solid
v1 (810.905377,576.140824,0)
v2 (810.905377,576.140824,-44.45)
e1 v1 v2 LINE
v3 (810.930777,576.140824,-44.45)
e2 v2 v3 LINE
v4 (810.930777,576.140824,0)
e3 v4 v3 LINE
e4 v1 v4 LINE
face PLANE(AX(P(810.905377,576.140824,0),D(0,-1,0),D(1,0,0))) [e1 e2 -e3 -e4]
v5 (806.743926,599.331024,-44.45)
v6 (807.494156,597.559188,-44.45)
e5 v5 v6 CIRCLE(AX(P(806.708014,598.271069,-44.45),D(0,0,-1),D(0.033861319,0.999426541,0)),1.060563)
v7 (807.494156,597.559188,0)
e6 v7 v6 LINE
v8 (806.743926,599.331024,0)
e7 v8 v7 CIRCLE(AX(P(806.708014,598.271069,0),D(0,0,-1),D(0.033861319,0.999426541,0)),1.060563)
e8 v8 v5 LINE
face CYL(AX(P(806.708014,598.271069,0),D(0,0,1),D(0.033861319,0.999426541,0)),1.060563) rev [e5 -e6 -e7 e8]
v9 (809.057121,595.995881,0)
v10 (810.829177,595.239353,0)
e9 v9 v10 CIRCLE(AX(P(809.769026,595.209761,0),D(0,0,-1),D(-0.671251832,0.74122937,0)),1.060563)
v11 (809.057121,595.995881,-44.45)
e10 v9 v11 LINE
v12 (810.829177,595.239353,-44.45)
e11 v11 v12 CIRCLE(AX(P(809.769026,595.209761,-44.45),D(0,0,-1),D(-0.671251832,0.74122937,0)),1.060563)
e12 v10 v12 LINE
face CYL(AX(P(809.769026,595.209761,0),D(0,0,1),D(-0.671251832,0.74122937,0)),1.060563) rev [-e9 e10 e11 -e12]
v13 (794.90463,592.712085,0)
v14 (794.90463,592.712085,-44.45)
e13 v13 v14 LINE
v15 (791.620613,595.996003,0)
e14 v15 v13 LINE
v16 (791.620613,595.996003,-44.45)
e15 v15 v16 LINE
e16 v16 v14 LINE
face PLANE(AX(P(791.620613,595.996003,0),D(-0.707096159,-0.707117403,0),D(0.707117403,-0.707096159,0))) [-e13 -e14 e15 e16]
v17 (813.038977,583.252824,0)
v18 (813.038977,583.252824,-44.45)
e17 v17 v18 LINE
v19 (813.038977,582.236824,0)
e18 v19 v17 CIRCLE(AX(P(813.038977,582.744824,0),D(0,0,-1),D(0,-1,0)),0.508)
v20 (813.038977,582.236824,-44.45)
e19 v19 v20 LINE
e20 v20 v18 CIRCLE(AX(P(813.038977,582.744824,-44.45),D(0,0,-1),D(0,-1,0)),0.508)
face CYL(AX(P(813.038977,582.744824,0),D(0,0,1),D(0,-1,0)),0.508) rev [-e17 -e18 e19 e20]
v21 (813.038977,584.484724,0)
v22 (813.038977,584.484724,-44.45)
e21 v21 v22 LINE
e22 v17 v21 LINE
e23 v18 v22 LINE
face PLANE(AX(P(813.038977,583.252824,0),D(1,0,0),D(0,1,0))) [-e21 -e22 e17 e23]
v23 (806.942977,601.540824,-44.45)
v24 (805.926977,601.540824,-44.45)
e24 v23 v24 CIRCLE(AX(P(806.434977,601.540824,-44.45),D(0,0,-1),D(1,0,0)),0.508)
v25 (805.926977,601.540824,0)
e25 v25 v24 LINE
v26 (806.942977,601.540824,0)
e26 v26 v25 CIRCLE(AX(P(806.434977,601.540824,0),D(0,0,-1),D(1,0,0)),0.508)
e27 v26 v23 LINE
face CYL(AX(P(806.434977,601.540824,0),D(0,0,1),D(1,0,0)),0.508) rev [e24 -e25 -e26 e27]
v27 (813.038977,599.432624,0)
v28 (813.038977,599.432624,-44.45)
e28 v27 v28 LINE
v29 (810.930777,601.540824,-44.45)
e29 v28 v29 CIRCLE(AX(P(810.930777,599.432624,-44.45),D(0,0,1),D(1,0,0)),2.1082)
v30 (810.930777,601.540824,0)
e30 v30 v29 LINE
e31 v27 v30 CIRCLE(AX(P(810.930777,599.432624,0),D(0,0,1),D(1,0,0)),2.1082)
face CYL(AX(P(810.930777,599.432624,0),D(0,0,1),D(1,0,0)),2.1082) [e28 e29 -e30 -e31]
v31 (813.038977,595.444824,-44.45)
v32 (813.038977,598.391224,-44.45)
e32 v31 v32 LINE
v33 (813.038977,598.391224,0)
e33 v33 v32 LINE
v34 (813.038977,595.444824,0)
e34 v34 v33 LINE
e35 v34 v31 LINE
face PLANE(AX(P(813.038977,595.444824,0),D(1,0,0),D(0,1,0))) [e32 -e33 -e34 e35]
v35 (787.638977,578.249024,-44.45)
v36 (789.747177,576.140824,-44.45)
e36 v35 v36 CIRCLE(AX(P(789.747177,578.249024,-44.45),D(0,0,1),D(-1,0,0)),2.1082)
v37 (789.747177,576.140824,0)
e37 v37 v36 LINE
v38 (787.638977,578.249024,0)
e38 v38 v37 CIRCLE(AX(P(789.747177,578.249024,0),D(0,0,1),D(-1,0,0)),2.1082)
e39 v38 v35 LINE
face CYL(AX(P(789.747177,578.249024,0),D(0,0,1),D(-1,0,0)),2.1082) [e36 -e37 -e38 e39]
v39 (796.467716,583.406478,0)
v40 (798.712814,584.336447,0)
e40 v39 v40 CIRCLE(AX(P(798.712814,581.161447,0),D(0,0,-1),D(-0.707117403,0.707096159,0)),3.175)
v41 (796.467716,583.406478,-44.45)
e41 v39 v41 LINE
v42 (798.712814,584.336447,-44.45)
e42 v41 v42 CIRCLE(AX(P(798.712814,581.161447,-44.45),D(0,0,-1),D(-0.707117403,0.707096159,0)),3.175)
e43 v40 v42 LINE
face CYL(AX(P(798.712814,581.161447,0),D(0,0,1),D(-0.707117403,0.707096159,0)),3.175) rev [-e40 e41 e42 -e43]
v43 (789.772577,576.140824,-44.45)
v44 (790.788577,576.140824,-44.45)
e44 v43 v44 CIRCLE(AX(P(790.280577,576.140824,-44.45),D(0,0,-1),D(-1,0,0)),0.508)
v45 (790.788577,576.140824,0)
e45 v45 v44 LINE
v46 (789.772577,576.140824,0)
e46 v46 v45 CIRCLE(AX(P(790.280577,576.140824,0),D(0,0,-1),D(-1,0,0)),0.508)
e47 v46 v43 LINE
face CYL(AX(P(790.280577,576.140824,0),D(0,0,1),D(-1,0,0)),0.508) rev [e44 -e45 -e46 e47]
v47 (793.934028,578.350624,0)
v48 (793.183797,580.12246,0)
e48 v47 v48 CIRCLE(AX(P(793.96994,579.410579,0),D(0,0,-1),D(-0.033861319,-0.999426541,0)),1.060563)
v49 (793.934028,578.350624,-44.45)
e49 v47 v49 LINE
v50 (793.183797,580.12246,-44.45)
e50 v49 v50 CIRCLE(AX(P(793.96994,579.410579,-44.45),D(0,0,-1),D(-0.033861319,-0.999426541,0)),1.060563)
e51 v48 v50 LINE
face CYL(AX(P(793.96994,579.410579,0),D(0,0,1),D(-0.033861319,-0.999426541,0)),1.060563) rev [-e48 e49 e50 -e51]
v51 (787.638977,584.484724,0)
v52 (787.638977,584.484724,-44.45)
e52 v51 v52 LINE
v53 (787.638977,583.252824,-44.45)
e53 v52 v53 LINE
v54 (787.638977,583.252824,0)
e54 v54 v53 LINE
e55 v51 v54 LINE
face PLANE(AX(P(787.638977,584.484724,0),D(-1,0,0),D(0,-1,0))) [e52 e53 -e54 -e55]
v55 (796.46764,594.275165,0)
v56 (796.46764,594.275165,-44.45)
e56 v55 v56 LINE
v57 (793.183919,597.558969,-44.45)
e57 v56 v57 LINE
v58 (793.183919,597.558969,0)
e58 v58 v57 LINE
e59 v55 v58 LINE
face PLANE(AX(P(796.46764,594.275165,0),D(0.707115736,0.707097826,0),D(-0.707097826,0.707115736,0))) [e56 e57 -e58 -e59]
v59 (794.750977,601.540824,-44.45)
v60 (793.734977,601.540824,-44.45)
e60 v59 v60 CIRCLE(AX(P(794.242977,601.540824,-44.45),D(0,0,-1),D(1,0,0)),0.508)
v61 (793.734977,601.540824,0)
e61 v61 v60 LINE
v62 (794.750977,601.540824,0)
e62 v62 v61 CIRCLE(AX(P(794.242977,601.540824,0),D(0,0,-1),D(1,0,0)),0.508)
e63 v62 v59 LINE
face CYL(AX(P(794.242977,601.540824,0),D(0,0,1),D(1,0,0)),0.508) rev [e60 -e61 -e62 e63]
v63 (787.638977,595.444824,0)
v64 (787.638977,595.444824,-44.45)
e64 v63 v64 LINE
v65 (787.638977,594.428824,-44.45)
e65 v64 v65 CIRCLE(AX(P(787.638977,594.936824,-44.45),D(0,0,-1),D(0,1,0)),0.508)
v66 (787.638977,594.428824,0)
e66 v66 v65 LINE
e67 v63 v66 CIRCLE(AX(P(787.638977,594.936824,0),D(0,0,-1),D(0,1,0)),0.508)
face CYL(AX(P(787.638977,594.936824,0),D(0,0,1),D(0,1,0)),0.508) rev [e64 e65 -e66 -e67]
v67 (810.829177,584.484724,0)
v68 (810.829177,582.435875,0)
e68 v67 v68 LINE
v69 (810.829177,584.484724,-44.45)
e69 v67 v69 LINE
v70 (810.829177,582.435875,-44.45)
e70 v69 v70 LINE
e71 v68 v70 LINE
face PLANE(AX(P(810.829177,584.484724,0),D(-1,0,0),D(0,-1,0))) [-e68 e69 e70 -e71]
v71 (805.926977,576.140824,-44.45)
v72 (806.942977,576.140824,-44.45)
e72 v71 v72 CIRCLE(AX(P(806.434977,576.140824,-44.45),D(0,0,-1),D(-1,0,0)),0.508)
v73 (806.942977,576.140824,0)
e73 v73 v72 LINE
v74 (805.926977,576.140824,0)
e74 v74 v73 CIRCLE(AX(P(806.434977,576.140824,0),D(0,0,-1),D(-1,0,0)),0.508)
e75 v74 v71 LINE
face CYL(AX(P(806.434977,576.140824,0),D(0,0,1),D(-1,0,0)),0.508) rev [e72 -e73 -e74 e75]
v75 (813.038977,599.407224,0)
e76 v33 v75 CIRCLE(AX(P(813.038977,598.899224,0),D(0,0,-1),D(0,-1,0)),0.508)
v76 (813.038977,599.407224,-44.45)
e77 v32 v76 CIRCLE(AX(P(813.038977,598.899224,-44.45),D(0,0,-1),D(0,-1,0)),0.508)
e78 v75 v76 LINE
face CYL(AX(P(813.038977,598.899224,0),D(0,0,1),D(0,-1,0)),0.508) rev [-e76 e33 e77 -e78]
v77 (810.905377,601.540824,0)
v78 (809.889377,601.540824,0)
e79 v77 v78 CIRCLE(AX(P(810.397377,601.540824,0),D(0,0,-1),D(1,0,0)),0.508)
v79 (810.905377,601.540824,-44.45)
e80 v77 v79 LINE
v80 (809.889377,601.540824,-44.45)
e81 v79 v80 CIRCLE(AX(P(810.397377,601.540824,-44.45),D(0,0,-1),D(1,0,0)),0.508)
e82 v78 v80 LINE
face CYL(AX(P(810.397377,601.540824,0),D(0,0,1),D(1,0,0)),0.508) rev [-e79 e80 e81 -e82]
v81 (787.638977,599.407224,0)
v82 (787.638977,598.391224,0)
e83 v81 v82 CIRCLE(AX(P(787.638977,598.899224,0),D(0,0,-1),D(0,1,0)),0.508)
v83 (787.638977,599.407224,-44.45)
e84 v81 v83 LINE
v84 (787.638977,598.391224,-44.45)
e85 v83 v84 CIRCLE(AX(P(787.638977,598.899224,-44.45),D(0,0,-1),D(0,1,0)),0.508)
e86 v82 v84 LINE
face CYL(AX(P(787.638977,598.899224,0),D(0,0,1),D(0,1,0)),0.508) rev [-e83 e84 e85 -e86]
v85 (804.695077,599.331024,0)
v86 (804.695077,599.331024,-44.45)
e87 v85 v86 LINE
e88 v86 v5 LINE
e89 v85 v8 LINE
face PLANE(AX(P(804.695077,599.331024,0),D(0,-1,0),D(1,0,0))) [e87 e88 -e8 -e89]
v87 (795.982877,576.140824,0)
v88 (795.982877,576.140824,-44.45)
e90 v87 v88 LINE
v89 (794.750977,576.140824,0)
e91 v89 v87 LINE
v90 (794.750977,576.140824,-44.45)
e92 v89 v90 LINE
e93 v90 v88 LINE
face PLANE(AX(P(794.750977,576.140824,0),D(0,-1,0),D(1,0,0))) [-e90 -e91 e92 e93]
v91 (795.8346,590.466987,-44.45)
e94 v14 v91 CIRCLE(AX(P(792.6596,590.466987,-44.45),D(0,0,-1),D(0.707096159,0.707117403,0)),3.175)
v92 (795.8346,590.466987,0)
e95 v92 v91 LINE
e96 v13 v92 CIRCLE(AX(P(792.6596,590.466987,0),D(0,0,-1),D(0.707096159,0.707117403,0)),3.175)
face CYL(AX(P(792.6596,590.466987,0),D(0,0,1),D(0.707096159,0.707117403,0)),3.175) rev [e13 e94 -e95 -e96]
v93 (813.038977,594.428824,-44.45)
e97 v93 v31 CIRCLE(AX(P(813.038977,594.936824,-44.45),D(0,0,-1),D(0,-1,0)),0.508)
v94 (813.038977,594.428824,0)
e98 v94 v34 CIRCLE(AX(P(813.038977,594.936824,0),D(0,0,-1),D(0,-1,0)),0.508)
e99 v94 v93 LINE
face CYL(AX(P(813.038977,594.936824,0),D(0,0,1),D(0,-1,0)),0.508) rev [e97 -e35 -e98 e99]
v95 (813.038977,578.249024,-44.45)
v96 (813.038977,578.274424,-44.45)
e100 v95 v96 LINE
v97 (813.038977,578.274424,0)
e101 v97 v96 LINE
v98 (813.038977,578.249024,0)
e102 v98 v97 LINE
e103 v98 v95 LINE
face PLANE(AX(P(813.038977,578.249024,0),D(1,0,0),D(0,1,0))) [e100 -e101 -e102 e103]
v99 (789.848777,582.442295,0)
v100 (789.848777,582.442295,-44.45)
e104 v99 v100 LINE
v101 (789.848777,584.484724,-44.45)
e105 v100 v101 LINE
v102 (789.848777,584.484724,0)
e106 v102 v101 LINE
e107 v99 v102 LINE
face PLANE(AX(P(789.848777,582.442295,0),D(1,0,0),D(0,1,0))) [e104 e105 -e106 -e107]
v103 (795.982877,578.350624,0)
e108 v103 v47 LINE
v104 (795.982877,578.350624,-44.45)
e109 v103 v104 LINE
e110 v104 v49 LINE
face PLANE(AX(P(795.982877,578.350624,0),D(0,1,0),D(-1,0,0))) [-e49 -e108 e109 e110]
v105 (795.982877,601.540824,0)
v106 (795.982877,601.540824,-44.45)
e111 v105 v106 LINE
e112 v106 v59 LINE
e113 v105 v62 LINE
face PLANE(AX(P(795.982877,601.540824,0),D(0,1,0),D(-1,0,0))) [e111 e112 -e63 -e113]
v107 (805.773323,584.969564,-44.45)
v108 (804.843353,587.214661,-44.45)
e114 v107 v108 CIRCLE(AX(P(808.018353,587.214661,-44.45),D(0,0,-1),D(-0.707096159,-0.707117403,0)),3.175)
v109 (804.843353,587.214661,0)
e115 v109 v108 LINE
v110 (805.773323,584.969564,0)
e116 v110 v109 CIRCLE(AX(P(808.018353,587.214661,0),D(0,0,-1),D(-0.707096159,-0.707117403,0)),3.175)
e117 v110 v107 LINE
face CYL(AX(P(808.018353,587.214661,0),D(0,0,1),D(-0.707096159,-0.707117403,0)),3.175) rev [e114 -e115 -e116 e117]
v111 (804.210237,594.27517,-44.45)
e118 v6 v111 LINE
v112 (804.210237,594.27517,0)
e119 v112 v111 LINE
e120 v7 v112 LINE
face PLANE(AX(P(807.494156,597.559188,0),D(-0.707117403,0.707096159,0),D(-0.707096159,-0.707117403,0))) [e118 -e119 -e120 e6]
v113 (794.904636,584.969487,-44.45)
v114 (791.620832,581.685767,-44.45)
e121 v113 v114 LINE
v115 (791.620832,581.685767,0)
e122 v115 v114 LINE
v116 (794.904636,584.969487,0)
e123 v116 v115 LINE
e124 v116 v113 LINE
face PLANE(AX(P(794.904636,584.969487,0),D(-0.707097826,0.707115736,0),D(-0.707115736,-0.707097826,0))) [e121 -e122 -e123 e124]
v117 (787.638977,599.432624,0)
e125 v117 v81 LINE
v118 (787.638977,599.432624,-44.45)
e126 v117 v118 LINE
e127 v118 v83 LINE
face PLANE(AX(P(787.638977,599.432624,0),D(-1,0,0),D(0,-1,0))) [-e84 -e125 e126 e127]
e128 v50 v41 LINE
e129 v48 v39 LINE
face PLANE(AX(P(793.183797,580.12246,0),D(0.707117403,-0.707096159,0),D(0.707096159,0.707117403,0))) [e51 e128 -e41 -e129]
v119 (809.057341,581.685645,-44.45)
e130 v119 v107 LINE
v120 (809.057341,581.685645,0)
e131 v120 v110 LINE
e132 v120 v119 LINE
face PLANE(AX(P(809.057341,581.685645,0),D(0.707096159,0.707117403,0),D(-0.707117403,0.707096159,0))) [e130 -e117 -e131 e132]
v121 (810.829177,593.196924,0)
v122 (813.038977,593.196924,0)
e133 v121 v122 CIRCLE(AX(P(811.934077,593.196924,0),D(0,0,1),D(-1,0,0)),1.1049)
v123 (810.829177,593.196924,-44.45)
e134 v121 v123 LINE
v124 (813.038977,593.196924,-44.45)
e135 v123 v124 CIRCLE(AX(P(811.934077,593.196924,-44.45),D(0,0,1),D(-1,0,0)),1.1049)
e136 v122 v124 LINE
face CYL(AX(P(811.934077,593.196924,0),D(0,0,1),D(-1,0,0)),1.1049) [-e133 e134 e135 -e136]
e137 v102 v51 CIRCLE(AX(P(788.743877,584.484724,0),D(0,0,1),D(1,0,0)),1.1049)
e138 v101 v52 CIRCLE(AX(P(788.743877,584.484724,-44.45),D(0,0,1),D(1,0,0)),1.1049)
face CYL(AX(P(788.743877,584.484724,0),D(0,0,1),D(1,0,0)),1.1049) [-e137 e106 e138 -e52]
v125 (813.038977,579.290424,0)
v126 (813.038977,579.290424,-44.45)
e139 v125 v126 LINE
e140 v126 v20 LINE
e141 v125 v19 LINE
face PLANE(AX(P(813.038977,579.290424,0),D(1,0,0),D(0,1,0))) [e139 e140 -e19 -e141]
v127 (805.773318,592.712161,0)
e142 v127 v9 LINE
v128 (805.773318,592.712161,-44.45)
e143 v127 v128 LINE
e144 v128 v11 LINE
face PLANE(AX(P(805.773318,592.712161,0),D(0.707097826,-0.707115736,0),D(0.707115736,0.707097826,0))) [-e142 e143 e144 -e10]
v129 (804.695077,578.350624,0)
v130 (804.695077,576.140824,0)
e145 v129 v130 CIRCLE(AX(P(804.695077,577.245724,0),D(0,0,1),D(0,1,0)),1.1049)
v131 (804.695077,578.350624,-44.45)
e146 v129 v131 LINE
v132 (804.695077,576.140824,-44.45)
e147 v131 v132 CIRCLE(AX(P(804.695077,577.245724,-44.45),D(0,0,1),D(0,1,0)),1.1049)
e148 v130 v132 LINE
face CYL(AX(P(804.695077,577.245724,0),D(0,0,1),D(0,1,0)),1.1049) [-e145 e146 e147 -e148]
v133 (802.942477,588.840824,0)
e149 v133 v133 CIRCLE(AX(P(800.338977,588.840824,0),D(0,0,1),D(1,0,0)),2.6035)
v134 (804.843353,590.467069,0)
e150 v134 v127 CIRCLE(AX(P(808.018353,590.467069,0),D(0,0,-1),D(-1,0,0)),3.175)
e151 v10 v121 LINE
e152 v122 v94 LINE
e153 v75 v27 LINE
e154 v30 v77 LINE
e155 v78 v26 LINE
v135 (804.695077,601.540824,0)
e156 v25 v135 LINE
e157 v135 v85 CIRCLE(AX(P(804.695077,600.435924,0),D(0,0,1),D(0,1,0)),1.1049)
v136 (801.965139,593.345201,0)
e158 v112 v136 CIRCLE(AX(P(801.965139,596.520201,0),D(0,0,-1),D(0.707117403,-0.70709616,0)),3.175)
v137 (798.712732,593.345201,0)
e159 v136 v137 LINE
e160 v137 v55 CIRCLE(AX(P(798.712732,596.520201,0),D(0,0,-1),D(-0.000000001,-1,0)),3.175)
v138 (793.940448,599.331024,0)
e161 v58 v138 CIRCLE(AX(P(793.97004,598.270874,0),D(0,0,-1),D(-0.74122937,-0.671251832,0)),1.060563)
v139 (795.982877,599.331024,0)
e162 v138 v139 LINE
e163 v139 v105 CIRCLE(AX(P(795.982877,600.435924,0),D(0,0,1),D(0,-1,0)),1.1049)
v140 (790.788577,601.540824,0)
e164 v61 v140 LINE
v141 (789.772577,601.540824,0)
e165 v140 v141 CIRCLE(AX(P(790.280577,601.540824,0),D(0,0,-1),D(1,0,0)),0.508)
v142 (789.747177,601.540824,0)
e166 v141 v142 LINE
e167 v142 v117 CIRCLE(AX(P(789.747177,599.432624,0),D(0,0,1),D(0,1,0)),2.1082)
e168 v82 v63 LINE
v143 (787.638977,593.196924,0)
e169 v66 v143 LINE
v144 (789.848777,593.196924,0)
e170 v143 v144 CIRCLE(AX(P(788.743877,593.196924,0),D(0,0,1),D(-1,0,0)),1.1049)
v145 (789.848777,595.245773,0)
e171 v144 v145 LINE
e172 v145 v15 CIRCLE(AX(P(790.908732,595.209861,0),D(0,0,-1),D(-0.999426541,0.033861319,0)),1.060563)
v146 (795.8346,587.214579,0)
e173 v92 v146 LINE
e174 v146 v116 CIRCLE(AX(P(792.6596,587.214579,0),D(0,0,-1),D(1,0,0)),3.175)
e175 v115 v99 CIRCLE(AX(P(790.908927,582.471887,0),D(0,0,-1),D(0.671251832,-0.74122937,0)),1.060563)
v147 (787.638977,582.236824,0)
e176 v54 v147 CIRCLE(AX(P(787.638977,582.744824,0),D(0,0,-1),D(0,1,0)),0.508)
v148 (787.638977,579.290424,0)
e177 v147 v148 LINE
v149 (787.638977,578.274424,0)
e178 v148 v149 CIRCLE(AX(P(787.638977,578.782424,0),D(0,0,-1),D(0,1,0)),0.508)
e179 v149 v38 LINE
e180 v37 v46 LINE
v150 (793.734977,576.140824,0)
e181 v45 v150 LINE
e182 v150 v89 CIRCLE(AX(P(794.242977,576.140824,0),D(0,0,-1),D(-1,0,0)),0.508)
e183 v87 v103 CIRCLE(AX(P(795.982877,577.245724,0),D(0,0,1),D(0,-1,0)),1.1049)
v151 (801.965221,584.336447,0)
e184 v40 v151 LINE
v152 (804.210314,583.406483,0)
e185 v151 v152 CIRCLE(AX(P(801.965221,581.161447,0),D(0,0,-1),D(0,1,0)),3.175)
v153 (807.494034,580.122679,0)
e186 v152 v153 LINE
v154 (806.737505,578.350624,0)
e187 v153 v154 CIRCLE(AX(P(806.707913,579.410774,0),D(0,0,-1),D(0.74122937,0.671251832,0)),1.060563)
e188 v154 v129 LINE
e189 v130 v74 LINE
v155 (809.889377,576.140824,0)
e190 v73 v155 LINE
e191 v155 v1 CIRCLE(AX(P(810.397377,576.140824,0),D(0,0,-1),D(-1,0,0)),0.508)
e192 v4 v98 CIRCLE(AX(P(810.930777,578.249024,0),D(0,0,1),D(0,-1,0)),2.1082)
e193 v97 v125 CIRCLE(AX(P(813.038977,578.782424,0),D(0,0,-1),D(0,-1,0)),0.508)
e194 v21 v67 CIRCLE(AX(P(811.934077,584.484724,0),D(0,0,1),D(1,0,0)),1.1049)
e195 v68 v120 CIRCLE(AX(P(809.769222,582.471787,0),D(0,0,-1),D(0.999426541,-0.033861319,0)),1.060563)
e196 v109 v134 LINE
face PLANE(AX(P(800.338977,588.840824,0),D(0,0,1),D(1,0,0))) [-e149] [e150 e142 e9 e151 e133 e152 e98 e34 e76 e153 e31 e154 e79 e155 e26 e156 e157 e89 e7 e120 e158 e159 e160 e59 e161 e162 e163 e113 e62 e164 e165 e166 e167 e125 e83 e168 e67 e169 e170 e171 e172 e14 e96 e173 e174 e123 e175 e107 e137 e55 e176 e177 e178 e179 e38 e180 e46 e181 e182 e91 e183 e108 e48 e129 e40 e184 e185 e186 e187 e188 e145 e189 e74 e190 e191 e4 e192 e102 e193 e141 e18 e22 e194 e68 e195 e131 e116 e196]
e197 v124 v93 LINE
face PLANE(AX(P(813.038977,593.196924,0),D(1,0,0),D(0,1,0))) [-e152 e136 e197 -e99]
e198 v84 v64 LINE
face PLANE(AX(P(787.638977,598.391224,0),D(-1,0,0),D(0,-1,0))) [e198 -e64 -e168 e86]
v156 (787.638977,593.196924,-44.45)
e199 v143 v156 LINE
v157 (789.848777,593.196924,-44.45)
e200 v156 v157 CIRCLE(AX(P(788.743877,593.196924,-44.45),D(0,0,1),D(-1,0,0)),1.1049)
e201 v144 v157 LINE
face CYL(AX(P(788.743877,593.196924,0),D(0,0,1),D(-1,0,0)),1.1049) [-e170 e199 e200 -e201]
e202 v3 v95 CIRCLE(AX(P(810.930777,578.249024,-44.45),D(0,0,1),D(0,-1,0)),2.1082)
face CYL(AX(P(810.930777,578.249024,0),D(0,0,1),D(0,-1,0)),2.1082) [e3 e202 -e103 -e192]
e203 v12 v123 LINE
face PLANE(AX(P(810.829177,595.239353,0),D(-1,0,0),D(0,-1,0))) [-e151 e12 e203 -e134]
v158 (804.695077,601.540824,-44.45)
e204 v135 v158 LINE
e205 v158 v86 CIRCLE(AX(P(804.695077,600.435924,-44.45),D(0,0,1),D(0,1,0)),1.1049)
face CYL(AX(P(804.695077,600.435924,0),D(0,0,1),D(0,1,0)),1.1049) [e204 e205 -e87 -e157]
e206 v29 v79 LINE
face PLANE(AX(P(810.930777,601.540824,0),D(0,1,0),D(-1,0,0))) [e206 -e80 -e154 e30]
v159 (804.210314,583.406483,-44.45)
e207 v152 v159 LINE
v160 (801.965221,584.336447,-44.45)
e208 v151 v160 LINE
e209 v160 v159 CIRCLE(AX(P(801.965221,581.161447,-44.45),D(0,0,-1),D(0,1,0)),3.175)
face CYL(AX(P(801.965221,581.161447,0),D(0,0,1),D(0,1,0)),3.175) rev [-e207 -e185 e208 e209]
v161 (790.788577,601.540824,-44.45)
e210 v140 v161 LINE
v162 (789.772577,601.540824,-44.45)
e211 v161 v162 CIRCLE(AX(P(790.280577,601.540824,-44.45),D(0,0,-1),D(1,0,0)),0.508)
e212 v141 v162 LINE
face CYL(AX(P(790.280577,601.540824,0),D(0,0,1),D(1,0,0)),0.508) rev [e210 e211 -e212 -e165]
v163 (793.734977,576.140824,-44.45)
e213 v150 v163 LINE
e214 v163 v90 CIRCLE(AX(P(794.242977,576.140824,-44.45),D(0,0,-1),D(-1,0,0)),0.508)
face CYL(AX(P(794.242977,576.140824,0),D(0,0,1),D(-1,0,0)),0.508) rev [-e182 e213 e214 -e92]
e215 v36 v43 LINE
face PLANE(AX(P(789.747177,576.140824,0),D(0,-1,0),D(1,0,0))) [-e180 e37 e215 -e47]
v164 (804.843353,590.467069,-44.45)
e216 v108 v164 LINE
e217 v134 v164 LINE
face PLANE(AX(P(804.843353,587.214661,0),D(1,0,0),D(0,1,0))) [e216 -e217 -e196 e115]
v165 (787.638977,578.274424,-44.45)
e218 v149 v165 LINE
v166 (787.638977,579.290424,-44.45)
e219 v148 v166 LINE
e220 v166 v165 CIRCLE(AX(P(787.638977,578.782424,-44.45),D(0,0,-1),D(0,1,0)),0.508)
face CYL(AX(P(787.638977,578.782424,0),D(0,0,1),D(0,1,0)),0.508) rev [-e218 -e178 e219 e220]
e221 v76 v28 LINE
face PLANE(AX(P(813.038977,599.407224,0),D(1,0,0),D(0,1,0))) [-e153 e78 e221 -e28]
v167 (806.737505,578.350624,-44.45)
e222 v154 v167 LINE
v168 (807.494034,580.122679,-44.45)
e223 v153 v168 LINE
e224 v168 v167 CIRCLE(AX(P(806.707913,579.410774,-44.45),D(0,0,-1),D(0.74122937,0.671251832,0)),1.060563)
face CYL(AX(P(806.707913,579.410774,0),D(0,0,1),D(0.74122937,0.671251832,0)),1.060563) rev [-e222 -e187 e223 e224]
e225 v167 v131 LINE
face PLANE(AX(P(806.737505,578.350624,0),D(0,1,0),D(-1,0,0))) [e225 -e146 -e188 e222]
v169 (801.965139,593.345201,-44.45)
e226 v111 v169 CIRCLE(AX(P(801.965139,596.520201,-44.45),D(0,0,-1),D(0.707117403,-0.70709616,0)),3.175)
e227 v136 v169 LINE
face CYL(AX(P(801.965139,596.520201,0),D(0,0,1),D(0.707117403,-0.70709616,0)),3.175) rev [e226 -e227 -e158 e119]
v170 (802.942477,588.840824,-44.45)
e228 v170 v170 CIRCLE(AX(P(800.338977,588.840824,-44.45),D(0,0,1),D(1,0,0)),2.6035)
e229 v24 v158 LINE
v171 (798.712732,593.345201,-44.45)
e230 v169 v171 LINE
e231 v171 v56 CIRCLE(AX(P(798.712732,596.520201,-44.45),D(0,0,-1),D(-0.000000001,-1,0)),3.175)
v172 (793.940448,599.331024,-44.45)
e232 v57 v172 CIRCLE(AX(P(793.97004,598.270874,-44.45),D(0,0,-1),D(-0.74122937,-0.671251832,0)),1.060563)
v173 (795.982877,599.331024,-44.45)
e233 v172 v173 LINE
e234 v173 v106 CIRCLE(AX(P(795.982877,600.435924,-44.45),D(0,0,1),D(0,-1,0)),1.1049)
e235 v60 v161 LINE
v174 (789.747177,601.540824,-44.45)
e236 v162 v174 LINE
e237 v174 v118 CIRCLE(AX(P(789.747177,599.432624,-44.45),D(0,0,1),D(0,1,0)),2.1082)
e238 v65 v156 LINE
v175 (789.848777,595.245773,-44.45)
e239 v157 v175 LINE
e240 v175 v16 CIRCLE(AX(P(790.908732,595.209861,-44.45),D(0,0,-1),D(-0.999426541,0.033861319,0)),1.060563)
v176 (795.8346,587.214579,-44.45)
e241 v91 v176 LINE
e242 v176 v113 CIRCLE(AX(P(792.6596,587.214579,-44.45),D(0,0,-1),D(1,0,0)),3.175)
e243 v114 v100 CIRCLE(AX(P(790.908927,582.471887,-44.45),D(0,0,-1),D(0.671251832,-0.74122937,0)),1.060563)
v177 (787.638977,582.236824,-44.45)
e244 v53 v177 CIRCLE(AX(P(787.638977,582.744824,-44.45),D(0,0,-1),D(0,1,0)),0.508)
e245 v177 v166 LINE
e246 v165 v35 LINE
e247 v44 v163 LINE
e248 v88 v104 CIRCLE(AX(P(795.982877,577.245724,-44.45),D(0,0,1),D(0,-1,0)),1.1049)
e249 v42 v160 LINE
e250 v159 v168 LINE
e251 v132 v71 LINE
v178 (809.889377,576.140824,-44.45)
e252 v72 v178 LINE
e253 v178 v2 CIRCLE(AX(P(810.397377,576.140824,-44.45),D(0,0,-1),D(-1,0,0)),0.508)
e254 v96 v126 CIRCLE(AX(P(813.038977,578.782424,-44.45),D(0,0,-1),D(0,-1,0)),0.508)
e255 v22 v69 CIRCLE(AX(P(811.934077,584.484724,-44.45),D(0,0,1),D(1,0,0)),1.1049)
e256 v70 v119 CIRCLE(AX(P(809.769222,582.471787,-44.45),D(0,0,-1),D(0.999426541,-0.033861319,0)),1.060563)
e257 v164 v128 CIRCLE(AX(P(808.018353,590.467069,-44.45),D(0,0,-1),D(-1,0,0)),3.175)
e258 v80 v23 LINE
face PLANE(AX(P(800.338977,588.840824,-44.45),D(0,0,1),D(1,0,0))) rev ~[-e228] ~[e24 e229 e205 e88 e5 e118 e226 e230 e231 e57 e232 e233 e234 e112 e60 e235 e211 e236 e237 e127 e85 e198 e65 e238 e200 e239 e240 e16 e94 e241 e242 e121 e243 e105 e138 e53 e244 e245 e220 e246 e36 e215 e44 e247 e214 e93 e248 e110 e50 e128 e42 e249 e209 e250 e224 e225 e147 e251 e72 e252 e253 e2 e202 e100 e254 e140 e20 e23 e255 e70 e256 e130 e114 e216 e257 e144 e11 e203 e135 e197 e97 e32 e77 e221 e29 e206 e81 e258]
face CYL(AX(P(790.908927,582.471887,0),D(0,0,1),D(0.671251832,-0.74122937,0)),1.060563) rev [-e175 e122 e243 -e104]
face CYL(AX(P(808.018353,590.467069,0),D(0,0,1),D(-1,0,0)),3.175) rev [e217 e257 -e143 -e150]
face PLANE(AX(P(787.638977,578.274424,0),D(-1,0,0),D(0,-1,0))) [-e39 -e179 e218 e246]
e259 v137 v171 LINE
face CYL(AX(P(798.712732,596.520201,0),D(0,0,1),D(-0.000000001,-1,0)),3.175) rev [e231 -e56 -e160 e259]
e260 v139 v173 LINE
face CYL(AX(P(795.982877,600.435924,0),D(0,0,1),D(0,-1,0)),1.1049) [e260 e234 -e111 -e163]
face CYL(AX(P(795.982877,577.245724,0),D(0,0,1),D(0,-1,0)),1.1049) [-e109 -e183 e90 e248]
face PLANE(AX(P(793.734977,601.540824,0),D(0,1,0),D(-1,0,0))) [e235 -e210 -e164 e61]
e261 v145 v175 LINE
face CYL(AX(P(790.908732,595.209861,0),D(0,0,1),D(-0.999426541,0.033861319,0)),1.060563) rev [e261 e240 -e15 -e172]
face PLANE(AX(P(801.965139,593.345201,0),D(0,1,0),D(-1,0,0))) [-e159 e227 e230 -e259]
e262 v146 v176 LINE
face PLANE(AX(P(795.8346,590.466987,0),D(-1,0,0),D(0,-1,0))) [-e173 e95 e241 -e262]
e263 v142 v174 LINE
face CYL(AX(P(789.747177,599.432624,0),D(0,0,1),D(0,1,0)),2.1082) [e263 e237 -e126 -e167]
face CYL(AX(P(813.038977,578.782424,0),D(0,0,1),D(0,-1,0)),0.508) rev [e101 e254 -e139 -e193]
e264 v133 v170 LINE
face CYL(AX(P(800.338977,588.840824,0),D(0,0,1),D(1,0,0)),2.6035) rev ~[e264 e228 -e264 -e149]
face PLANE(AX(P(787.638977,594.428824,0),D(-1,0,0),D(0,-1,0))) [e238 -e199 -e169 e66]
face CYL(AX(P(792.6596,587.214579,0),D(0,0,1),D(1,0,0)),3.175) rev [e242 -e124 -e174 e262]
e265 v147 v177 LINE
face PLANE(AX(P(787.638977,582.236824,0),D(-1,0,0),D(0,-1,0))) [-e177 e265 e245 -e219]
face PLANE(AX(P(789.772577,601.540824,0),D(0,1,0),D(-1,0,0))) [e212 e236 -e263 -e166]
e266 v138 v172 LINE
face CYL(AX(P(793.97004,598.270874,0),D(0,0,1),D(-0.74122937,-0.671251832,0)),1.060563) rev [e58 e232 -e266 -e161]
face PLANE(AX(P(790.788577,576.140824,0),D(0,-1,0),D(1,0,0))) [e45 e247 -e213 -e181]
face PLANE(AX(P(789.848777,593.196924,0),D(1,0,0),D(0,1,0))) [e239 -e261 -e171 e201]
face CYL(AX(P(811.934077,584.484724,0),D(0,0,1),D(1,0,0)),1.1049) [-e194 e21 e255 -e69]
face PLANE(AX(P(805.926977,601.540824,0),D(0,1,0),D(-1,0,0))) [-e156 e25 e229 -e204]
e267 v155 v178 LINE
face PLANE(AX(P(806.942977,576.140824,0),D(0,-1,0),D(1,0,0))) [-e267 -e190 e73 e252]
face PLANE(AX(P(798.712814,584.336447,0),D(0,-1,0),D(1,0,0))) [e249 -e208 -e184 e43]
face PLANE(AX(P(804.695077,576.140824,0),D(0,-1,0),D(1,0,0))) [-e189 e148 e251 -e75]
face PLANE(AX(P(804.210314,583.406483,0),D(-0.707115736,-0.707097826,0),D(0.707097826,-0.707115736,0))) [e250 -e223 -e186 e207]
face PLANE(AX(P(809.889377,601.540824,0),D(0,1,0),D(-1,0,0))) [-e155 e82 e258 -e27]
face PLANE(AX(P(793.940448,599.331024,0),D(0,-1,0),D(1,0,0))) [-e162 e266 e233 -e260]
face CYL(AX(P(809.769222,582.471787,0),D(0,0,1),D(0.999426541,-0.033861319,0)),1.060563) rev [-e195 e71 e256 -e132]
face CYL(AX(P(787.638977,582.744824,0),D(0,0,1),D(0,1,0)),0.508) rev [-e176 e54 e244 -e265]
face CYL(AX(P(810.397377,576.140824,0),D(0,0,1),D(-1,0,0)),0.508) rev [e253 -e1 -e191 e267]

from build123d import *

# Parameters (mm, degrees)
SKETCH1_R      = 2.6035
EXTRUDE1_DEPTH = 44.45


with BuildPart() as part:
    # Sketch1 → Extrude1 (new body)
    with BuildSketch(Plane.XY):
        with BuildLine():
            Line((813.038976674, 579.290424026), (813.038976674, 582.236824026))
            ThreePointArc((813.038976674, 582.236824026), (812.530976674, 582.744824026), (813.038976674, 583.252824026))
            Line((813.038976674, 583.252824026), (813.038976674, 584.484724026))
            ThreePointArc((813.038976674, 584.484724026), (811.934076674, 585.589624026), (810.829176674, 584.484724026))
            Line((810.829176674, 584.484724026), (810.829176674, 582.435874947))
            ThreePointArc((810.829176674, 582.435874947), (810.182743454, 581.495163196), (809.057340701, 581.685644565))
            Line((809.057340701, 581.685644565), (805.773323088, 584.969563516))
            ThreePointArc((805.773323088, 584.969563516), (805.085045004, 585.999619341), (804.843353394, 587.214661271))
            Line((804.843353394, 587.214661271), (804.843353394, 590.467068589))
            ThreePointArc((804.843353394, 590.467068589), (805.085043572, 591.682107061), (805.773317796, 592.712161052))
            Line((805.773317796, 592.712161052), (809.057121325, 595.995881407))
            ThreePointArc((809.057121325, 595.995881407), (810.18544278, 596.185153907), (810.829176674, 595.239352628))
            Line((810.829176674, 595.239352628), (810.829176674, 593.196924026))
            ThreePointArc((810.829176674, 593.196924026), (811.934076674, 592.092024026), (813.038976674, 593.196924026))
            Line((813.038976674, 593.196924026), (813.038976674, 594.428824026))
            ThreePointArc((813.038976674, 594.428824026), (812.530976674, 594.936824026), (813.038976674, 595.444824026))
            Line((813.038976674, 595.444824026), (813.038976674, 598.391224026))
            ThreePointArc((813.038976674, 598.391224026), (812.530976674, 598.899224026), (813.038976674, 599.407224026))
            Line((813.038976674, 599.407224026), (813.038976674, 599.432624026))
            ThreePointArc((813.038976674, 599.432624026), (812.42149919, 600.923346542), (810.930776674, 601.540824026))
            Line((810.930776674, 601.540824026), (810.905376674, 601.540824026))
            ThreePointArc((810.905376674, 601.540824026), (810.397376674, 601.032824026), (809.889376674, 601.540824026))
            Line((809.889376674, 601.540824026), (806.942976674, 601.540824026))
            ThreePointArc((806.942976674, 601.540824026), (806.434976674, 601.032824026), (805.926976674, 601.540824026))
            Line((805.926976674, 601.540824026), (804.695076674, 601.540824026))
            ThreePointArc((804.695076674, 601.540824026), (803.590176674, 600.435924026), (804.695076674, 599.331024026))
            Line((804.695076674, 599.331024026), (806.743925753, 599.331024026))
            ThreePointArc((806.743925753, 599.331024026), (807.684637504, 598.684590806), (807.494156135, 597.559188053))
            Line((807.494156135, 597.559188053), (804.210237184, 594.27517044))
            ThreePointArc((804.210237184, 594.27517044), (803.180181359, 593.586892356), (801.965139429, 593.345200745))
            Line((801.965139429, 593.345200745), (798.712732111, 593.345200745))
            ThreePointArc((798.712732111, 593.345200745), (797.497693639, 593.586890924), (796.467639648, 594.275165148))
            Line((796.467639648, 594.275165148), (793.183919293, 597.558968677))
            ThreePointArc((793.183919293, 597.558968677), (792.994646793, 598.687290132), (793.940448072, 599.331024026))
            Line((793.940448072, 599.331024026), (795.982876674, 599.331024026))
            ThreePointArc((795.982876674, 599.331024026), (797.087776674, 600.435924026), (795.982876674, 601.540824026))
            Line((795.982876674, 601.540824026), (794.750976674, 601.540824026))
            ThreePointArc((794.750976674, 601.540824026), (794.242976674, 601.032824026), (793.734976674, 601.540824026))
            Line((793.734976674, 601.540824026), (790.788576674, 601.540824026))
            ThreePointArc((790.788576674, 601.540824026), (790.280576674, 601.032824026), (789.772576674, 601.540824026))
            Line((789.772576674, 601.540824026), (789.747176674, 601.540824026))
            ThreePointArc((789.747176674, 601.540824026), (788.256454158, 600.923346542), (787.638976674, 599.432624026))
            Line((787.638976674, 599.432624026), (787.638976674, 599.407224026))
            ThreePointArc((787.638976674, 599.407224026), (788.146976674, 598.899224026), (787.638976674, 598.391224026))
            Line((787.638976674, 598.391224026), (787.638976674, 595.444824026))
            ThreePointArc((787.638976674, 595.444824026), (788.146976674, 594.936824026), (787.638976674, 594.428824026))
            Line((787.638976674, 594.428824026), (787.638976674, 593.196924026))
            ThreePointArc((787.638976674, 593.196924026), (788.743876674, 592.092024026), (789.848776674, 593.196924026))
            Line((789.848776674, 593.196924026), (789.848776674, 595.245773105))
            ThreePointArc((789.848776674, 595.245773105), (790.495209894, 596.186484856), (791.620612647, 595.996003487))
            Line((791.620612647, 595.996003487), (794.90463026, 592.712084536))
            ThreePointArc((794.90463026, 592.712084536), (795.592908344, 591.682028711), (795.834599954, 590.466986781))
            Line((795.834599954, 590.466986781), (795.834599954, 587.214579463))
            ThreePointArc((795.834599954, 587.214579463), (795.592909776, 585.999540991), (794.904635552, 584.969487))
            Line((794.904635552, 584.969487), (791.620832022, 581.685766645))
            ThreePointArc((791.620832022, 581.685766645), (790.492510568, 581.496494145), (789.848776674, 582.442295424))
            Line((789.848776674, 582.442295424), (789.848776674, 584.484724026))
            ThreePointArc((789.848776674, 584.484724026), (788.743876674, 585.589624026), (787.638976674, 584.484724026))
            Line((787.638976674, 584.484724026), (787.638976674, 583.252824026))
            ThreePointArc((787.638976674, 583.252824026), (788.146976674, 582.744824026), (787.638976674, 582.236824026))
            Line((787.638976674, 582.236824026), (787.638976674, 579.290424026))
            ThreePointArc((787.638976674, 579.290424026), (788.146976674, 578.782424026), (787.638976674, 578.274424026))
            Line((787.638976674, 578.274424026), (787.638976674, 578.249024026))
            ThreePointArc((787.638976674, 578.249024026), (788.256454158, 576.75830151), (789.747176674, 576.140824026))
            Line((789.747176674, 576.140824026), (789.772576674, 576.140824026))
            ThreePointArc((789.772576674, 576.140824026), (790.280576674, 576.648824026), (790.788576674, 576.140824026))
            Line((790.788576674, 576.140824026), (793.734976674, 576.140824026))
            ThreePointArc((793.734976674, 576.140824026), (794.242976674, 576.648824026), (794.750976674, 576.140824026))
            Line((794.750976674, 576.140824026), (795.982876674, 576.140824026))
            ThreePointArc((795.982876674, 576.140824026), (797.087776674, 577.245724026), (795.982876674, 578.350624026))
            Line((795.982876674, 578.350624026), (793.934027595, 578.350624026))
            ThreePointArc((793.934027595, 578.350624026), (792.993315844, 578.997057246), (793.183797213, 580.122459999))
            Line((793.183797213, 580.122459999), (796.467716164, 583.406477612))
            ThreePointArc((796.467716164, 583.406477612), (797.497771989, 584.094755696), (798.712813919, 584.336447306))
            Line((798.712813919, 584.336447306), (801.965221237, 584.336447306))
            ThreePointArc((801.965221237, 584.336447306), (803.180259709, 584.094757128), (804.2103137, 583.406482904))
            Line((804.2103137, 583.406482904), (807.494034055, 580.122679374))
            ThreePointArc((807.494034055, 580.122679374), (807.683306555, 578.99435792), (806.737505276, 578.350624026))
            Line((806.737505276, 578.350624026), (804.695076674, 578.350624026))
            ThreePointArc((804.695076674, 578.350624026), (803.590176674, 577.245724026), (804.695076674, 576.140824026))
            Line((804.695076674, 576.140824026), (805.926976674, 576.140824026))
            ThreePointArc((805.926976674, 576.140824026), (806.434976674, 576.648824026), (806.942976674, 576.140824026))
            Line((806.942976674, 576.140824026), (809.889376674, 576.140824026))
            ThreePointArc((809.889376674, 576.140824026), (810.397376674, 576.648824026), (810.905376674, 576.140824026))
            Line((810.905376674, 576.140824026), (810.930776674, 576.140824026))
            ThreePointArc((810.930776674, 576.140824026), (812.42149919, 576.75830151), (813.038976674, 578.249024026))
            Line((813.038976674, 578.249024026), (813.038976674, 578.274424026))
            ThreePointArc((813.038976674, 578.274424026), (812.530976674, 578.782424026), (813.038976674, 579.290424026))
        make_face()
        with Locations((800.338976674, 588.840824026)):
            Circle(SKETCH1_R, mode=Mode.SUBTRACT)
    extrude(amount=-EXTRUDE1_DEPTH)


solid = part.part
